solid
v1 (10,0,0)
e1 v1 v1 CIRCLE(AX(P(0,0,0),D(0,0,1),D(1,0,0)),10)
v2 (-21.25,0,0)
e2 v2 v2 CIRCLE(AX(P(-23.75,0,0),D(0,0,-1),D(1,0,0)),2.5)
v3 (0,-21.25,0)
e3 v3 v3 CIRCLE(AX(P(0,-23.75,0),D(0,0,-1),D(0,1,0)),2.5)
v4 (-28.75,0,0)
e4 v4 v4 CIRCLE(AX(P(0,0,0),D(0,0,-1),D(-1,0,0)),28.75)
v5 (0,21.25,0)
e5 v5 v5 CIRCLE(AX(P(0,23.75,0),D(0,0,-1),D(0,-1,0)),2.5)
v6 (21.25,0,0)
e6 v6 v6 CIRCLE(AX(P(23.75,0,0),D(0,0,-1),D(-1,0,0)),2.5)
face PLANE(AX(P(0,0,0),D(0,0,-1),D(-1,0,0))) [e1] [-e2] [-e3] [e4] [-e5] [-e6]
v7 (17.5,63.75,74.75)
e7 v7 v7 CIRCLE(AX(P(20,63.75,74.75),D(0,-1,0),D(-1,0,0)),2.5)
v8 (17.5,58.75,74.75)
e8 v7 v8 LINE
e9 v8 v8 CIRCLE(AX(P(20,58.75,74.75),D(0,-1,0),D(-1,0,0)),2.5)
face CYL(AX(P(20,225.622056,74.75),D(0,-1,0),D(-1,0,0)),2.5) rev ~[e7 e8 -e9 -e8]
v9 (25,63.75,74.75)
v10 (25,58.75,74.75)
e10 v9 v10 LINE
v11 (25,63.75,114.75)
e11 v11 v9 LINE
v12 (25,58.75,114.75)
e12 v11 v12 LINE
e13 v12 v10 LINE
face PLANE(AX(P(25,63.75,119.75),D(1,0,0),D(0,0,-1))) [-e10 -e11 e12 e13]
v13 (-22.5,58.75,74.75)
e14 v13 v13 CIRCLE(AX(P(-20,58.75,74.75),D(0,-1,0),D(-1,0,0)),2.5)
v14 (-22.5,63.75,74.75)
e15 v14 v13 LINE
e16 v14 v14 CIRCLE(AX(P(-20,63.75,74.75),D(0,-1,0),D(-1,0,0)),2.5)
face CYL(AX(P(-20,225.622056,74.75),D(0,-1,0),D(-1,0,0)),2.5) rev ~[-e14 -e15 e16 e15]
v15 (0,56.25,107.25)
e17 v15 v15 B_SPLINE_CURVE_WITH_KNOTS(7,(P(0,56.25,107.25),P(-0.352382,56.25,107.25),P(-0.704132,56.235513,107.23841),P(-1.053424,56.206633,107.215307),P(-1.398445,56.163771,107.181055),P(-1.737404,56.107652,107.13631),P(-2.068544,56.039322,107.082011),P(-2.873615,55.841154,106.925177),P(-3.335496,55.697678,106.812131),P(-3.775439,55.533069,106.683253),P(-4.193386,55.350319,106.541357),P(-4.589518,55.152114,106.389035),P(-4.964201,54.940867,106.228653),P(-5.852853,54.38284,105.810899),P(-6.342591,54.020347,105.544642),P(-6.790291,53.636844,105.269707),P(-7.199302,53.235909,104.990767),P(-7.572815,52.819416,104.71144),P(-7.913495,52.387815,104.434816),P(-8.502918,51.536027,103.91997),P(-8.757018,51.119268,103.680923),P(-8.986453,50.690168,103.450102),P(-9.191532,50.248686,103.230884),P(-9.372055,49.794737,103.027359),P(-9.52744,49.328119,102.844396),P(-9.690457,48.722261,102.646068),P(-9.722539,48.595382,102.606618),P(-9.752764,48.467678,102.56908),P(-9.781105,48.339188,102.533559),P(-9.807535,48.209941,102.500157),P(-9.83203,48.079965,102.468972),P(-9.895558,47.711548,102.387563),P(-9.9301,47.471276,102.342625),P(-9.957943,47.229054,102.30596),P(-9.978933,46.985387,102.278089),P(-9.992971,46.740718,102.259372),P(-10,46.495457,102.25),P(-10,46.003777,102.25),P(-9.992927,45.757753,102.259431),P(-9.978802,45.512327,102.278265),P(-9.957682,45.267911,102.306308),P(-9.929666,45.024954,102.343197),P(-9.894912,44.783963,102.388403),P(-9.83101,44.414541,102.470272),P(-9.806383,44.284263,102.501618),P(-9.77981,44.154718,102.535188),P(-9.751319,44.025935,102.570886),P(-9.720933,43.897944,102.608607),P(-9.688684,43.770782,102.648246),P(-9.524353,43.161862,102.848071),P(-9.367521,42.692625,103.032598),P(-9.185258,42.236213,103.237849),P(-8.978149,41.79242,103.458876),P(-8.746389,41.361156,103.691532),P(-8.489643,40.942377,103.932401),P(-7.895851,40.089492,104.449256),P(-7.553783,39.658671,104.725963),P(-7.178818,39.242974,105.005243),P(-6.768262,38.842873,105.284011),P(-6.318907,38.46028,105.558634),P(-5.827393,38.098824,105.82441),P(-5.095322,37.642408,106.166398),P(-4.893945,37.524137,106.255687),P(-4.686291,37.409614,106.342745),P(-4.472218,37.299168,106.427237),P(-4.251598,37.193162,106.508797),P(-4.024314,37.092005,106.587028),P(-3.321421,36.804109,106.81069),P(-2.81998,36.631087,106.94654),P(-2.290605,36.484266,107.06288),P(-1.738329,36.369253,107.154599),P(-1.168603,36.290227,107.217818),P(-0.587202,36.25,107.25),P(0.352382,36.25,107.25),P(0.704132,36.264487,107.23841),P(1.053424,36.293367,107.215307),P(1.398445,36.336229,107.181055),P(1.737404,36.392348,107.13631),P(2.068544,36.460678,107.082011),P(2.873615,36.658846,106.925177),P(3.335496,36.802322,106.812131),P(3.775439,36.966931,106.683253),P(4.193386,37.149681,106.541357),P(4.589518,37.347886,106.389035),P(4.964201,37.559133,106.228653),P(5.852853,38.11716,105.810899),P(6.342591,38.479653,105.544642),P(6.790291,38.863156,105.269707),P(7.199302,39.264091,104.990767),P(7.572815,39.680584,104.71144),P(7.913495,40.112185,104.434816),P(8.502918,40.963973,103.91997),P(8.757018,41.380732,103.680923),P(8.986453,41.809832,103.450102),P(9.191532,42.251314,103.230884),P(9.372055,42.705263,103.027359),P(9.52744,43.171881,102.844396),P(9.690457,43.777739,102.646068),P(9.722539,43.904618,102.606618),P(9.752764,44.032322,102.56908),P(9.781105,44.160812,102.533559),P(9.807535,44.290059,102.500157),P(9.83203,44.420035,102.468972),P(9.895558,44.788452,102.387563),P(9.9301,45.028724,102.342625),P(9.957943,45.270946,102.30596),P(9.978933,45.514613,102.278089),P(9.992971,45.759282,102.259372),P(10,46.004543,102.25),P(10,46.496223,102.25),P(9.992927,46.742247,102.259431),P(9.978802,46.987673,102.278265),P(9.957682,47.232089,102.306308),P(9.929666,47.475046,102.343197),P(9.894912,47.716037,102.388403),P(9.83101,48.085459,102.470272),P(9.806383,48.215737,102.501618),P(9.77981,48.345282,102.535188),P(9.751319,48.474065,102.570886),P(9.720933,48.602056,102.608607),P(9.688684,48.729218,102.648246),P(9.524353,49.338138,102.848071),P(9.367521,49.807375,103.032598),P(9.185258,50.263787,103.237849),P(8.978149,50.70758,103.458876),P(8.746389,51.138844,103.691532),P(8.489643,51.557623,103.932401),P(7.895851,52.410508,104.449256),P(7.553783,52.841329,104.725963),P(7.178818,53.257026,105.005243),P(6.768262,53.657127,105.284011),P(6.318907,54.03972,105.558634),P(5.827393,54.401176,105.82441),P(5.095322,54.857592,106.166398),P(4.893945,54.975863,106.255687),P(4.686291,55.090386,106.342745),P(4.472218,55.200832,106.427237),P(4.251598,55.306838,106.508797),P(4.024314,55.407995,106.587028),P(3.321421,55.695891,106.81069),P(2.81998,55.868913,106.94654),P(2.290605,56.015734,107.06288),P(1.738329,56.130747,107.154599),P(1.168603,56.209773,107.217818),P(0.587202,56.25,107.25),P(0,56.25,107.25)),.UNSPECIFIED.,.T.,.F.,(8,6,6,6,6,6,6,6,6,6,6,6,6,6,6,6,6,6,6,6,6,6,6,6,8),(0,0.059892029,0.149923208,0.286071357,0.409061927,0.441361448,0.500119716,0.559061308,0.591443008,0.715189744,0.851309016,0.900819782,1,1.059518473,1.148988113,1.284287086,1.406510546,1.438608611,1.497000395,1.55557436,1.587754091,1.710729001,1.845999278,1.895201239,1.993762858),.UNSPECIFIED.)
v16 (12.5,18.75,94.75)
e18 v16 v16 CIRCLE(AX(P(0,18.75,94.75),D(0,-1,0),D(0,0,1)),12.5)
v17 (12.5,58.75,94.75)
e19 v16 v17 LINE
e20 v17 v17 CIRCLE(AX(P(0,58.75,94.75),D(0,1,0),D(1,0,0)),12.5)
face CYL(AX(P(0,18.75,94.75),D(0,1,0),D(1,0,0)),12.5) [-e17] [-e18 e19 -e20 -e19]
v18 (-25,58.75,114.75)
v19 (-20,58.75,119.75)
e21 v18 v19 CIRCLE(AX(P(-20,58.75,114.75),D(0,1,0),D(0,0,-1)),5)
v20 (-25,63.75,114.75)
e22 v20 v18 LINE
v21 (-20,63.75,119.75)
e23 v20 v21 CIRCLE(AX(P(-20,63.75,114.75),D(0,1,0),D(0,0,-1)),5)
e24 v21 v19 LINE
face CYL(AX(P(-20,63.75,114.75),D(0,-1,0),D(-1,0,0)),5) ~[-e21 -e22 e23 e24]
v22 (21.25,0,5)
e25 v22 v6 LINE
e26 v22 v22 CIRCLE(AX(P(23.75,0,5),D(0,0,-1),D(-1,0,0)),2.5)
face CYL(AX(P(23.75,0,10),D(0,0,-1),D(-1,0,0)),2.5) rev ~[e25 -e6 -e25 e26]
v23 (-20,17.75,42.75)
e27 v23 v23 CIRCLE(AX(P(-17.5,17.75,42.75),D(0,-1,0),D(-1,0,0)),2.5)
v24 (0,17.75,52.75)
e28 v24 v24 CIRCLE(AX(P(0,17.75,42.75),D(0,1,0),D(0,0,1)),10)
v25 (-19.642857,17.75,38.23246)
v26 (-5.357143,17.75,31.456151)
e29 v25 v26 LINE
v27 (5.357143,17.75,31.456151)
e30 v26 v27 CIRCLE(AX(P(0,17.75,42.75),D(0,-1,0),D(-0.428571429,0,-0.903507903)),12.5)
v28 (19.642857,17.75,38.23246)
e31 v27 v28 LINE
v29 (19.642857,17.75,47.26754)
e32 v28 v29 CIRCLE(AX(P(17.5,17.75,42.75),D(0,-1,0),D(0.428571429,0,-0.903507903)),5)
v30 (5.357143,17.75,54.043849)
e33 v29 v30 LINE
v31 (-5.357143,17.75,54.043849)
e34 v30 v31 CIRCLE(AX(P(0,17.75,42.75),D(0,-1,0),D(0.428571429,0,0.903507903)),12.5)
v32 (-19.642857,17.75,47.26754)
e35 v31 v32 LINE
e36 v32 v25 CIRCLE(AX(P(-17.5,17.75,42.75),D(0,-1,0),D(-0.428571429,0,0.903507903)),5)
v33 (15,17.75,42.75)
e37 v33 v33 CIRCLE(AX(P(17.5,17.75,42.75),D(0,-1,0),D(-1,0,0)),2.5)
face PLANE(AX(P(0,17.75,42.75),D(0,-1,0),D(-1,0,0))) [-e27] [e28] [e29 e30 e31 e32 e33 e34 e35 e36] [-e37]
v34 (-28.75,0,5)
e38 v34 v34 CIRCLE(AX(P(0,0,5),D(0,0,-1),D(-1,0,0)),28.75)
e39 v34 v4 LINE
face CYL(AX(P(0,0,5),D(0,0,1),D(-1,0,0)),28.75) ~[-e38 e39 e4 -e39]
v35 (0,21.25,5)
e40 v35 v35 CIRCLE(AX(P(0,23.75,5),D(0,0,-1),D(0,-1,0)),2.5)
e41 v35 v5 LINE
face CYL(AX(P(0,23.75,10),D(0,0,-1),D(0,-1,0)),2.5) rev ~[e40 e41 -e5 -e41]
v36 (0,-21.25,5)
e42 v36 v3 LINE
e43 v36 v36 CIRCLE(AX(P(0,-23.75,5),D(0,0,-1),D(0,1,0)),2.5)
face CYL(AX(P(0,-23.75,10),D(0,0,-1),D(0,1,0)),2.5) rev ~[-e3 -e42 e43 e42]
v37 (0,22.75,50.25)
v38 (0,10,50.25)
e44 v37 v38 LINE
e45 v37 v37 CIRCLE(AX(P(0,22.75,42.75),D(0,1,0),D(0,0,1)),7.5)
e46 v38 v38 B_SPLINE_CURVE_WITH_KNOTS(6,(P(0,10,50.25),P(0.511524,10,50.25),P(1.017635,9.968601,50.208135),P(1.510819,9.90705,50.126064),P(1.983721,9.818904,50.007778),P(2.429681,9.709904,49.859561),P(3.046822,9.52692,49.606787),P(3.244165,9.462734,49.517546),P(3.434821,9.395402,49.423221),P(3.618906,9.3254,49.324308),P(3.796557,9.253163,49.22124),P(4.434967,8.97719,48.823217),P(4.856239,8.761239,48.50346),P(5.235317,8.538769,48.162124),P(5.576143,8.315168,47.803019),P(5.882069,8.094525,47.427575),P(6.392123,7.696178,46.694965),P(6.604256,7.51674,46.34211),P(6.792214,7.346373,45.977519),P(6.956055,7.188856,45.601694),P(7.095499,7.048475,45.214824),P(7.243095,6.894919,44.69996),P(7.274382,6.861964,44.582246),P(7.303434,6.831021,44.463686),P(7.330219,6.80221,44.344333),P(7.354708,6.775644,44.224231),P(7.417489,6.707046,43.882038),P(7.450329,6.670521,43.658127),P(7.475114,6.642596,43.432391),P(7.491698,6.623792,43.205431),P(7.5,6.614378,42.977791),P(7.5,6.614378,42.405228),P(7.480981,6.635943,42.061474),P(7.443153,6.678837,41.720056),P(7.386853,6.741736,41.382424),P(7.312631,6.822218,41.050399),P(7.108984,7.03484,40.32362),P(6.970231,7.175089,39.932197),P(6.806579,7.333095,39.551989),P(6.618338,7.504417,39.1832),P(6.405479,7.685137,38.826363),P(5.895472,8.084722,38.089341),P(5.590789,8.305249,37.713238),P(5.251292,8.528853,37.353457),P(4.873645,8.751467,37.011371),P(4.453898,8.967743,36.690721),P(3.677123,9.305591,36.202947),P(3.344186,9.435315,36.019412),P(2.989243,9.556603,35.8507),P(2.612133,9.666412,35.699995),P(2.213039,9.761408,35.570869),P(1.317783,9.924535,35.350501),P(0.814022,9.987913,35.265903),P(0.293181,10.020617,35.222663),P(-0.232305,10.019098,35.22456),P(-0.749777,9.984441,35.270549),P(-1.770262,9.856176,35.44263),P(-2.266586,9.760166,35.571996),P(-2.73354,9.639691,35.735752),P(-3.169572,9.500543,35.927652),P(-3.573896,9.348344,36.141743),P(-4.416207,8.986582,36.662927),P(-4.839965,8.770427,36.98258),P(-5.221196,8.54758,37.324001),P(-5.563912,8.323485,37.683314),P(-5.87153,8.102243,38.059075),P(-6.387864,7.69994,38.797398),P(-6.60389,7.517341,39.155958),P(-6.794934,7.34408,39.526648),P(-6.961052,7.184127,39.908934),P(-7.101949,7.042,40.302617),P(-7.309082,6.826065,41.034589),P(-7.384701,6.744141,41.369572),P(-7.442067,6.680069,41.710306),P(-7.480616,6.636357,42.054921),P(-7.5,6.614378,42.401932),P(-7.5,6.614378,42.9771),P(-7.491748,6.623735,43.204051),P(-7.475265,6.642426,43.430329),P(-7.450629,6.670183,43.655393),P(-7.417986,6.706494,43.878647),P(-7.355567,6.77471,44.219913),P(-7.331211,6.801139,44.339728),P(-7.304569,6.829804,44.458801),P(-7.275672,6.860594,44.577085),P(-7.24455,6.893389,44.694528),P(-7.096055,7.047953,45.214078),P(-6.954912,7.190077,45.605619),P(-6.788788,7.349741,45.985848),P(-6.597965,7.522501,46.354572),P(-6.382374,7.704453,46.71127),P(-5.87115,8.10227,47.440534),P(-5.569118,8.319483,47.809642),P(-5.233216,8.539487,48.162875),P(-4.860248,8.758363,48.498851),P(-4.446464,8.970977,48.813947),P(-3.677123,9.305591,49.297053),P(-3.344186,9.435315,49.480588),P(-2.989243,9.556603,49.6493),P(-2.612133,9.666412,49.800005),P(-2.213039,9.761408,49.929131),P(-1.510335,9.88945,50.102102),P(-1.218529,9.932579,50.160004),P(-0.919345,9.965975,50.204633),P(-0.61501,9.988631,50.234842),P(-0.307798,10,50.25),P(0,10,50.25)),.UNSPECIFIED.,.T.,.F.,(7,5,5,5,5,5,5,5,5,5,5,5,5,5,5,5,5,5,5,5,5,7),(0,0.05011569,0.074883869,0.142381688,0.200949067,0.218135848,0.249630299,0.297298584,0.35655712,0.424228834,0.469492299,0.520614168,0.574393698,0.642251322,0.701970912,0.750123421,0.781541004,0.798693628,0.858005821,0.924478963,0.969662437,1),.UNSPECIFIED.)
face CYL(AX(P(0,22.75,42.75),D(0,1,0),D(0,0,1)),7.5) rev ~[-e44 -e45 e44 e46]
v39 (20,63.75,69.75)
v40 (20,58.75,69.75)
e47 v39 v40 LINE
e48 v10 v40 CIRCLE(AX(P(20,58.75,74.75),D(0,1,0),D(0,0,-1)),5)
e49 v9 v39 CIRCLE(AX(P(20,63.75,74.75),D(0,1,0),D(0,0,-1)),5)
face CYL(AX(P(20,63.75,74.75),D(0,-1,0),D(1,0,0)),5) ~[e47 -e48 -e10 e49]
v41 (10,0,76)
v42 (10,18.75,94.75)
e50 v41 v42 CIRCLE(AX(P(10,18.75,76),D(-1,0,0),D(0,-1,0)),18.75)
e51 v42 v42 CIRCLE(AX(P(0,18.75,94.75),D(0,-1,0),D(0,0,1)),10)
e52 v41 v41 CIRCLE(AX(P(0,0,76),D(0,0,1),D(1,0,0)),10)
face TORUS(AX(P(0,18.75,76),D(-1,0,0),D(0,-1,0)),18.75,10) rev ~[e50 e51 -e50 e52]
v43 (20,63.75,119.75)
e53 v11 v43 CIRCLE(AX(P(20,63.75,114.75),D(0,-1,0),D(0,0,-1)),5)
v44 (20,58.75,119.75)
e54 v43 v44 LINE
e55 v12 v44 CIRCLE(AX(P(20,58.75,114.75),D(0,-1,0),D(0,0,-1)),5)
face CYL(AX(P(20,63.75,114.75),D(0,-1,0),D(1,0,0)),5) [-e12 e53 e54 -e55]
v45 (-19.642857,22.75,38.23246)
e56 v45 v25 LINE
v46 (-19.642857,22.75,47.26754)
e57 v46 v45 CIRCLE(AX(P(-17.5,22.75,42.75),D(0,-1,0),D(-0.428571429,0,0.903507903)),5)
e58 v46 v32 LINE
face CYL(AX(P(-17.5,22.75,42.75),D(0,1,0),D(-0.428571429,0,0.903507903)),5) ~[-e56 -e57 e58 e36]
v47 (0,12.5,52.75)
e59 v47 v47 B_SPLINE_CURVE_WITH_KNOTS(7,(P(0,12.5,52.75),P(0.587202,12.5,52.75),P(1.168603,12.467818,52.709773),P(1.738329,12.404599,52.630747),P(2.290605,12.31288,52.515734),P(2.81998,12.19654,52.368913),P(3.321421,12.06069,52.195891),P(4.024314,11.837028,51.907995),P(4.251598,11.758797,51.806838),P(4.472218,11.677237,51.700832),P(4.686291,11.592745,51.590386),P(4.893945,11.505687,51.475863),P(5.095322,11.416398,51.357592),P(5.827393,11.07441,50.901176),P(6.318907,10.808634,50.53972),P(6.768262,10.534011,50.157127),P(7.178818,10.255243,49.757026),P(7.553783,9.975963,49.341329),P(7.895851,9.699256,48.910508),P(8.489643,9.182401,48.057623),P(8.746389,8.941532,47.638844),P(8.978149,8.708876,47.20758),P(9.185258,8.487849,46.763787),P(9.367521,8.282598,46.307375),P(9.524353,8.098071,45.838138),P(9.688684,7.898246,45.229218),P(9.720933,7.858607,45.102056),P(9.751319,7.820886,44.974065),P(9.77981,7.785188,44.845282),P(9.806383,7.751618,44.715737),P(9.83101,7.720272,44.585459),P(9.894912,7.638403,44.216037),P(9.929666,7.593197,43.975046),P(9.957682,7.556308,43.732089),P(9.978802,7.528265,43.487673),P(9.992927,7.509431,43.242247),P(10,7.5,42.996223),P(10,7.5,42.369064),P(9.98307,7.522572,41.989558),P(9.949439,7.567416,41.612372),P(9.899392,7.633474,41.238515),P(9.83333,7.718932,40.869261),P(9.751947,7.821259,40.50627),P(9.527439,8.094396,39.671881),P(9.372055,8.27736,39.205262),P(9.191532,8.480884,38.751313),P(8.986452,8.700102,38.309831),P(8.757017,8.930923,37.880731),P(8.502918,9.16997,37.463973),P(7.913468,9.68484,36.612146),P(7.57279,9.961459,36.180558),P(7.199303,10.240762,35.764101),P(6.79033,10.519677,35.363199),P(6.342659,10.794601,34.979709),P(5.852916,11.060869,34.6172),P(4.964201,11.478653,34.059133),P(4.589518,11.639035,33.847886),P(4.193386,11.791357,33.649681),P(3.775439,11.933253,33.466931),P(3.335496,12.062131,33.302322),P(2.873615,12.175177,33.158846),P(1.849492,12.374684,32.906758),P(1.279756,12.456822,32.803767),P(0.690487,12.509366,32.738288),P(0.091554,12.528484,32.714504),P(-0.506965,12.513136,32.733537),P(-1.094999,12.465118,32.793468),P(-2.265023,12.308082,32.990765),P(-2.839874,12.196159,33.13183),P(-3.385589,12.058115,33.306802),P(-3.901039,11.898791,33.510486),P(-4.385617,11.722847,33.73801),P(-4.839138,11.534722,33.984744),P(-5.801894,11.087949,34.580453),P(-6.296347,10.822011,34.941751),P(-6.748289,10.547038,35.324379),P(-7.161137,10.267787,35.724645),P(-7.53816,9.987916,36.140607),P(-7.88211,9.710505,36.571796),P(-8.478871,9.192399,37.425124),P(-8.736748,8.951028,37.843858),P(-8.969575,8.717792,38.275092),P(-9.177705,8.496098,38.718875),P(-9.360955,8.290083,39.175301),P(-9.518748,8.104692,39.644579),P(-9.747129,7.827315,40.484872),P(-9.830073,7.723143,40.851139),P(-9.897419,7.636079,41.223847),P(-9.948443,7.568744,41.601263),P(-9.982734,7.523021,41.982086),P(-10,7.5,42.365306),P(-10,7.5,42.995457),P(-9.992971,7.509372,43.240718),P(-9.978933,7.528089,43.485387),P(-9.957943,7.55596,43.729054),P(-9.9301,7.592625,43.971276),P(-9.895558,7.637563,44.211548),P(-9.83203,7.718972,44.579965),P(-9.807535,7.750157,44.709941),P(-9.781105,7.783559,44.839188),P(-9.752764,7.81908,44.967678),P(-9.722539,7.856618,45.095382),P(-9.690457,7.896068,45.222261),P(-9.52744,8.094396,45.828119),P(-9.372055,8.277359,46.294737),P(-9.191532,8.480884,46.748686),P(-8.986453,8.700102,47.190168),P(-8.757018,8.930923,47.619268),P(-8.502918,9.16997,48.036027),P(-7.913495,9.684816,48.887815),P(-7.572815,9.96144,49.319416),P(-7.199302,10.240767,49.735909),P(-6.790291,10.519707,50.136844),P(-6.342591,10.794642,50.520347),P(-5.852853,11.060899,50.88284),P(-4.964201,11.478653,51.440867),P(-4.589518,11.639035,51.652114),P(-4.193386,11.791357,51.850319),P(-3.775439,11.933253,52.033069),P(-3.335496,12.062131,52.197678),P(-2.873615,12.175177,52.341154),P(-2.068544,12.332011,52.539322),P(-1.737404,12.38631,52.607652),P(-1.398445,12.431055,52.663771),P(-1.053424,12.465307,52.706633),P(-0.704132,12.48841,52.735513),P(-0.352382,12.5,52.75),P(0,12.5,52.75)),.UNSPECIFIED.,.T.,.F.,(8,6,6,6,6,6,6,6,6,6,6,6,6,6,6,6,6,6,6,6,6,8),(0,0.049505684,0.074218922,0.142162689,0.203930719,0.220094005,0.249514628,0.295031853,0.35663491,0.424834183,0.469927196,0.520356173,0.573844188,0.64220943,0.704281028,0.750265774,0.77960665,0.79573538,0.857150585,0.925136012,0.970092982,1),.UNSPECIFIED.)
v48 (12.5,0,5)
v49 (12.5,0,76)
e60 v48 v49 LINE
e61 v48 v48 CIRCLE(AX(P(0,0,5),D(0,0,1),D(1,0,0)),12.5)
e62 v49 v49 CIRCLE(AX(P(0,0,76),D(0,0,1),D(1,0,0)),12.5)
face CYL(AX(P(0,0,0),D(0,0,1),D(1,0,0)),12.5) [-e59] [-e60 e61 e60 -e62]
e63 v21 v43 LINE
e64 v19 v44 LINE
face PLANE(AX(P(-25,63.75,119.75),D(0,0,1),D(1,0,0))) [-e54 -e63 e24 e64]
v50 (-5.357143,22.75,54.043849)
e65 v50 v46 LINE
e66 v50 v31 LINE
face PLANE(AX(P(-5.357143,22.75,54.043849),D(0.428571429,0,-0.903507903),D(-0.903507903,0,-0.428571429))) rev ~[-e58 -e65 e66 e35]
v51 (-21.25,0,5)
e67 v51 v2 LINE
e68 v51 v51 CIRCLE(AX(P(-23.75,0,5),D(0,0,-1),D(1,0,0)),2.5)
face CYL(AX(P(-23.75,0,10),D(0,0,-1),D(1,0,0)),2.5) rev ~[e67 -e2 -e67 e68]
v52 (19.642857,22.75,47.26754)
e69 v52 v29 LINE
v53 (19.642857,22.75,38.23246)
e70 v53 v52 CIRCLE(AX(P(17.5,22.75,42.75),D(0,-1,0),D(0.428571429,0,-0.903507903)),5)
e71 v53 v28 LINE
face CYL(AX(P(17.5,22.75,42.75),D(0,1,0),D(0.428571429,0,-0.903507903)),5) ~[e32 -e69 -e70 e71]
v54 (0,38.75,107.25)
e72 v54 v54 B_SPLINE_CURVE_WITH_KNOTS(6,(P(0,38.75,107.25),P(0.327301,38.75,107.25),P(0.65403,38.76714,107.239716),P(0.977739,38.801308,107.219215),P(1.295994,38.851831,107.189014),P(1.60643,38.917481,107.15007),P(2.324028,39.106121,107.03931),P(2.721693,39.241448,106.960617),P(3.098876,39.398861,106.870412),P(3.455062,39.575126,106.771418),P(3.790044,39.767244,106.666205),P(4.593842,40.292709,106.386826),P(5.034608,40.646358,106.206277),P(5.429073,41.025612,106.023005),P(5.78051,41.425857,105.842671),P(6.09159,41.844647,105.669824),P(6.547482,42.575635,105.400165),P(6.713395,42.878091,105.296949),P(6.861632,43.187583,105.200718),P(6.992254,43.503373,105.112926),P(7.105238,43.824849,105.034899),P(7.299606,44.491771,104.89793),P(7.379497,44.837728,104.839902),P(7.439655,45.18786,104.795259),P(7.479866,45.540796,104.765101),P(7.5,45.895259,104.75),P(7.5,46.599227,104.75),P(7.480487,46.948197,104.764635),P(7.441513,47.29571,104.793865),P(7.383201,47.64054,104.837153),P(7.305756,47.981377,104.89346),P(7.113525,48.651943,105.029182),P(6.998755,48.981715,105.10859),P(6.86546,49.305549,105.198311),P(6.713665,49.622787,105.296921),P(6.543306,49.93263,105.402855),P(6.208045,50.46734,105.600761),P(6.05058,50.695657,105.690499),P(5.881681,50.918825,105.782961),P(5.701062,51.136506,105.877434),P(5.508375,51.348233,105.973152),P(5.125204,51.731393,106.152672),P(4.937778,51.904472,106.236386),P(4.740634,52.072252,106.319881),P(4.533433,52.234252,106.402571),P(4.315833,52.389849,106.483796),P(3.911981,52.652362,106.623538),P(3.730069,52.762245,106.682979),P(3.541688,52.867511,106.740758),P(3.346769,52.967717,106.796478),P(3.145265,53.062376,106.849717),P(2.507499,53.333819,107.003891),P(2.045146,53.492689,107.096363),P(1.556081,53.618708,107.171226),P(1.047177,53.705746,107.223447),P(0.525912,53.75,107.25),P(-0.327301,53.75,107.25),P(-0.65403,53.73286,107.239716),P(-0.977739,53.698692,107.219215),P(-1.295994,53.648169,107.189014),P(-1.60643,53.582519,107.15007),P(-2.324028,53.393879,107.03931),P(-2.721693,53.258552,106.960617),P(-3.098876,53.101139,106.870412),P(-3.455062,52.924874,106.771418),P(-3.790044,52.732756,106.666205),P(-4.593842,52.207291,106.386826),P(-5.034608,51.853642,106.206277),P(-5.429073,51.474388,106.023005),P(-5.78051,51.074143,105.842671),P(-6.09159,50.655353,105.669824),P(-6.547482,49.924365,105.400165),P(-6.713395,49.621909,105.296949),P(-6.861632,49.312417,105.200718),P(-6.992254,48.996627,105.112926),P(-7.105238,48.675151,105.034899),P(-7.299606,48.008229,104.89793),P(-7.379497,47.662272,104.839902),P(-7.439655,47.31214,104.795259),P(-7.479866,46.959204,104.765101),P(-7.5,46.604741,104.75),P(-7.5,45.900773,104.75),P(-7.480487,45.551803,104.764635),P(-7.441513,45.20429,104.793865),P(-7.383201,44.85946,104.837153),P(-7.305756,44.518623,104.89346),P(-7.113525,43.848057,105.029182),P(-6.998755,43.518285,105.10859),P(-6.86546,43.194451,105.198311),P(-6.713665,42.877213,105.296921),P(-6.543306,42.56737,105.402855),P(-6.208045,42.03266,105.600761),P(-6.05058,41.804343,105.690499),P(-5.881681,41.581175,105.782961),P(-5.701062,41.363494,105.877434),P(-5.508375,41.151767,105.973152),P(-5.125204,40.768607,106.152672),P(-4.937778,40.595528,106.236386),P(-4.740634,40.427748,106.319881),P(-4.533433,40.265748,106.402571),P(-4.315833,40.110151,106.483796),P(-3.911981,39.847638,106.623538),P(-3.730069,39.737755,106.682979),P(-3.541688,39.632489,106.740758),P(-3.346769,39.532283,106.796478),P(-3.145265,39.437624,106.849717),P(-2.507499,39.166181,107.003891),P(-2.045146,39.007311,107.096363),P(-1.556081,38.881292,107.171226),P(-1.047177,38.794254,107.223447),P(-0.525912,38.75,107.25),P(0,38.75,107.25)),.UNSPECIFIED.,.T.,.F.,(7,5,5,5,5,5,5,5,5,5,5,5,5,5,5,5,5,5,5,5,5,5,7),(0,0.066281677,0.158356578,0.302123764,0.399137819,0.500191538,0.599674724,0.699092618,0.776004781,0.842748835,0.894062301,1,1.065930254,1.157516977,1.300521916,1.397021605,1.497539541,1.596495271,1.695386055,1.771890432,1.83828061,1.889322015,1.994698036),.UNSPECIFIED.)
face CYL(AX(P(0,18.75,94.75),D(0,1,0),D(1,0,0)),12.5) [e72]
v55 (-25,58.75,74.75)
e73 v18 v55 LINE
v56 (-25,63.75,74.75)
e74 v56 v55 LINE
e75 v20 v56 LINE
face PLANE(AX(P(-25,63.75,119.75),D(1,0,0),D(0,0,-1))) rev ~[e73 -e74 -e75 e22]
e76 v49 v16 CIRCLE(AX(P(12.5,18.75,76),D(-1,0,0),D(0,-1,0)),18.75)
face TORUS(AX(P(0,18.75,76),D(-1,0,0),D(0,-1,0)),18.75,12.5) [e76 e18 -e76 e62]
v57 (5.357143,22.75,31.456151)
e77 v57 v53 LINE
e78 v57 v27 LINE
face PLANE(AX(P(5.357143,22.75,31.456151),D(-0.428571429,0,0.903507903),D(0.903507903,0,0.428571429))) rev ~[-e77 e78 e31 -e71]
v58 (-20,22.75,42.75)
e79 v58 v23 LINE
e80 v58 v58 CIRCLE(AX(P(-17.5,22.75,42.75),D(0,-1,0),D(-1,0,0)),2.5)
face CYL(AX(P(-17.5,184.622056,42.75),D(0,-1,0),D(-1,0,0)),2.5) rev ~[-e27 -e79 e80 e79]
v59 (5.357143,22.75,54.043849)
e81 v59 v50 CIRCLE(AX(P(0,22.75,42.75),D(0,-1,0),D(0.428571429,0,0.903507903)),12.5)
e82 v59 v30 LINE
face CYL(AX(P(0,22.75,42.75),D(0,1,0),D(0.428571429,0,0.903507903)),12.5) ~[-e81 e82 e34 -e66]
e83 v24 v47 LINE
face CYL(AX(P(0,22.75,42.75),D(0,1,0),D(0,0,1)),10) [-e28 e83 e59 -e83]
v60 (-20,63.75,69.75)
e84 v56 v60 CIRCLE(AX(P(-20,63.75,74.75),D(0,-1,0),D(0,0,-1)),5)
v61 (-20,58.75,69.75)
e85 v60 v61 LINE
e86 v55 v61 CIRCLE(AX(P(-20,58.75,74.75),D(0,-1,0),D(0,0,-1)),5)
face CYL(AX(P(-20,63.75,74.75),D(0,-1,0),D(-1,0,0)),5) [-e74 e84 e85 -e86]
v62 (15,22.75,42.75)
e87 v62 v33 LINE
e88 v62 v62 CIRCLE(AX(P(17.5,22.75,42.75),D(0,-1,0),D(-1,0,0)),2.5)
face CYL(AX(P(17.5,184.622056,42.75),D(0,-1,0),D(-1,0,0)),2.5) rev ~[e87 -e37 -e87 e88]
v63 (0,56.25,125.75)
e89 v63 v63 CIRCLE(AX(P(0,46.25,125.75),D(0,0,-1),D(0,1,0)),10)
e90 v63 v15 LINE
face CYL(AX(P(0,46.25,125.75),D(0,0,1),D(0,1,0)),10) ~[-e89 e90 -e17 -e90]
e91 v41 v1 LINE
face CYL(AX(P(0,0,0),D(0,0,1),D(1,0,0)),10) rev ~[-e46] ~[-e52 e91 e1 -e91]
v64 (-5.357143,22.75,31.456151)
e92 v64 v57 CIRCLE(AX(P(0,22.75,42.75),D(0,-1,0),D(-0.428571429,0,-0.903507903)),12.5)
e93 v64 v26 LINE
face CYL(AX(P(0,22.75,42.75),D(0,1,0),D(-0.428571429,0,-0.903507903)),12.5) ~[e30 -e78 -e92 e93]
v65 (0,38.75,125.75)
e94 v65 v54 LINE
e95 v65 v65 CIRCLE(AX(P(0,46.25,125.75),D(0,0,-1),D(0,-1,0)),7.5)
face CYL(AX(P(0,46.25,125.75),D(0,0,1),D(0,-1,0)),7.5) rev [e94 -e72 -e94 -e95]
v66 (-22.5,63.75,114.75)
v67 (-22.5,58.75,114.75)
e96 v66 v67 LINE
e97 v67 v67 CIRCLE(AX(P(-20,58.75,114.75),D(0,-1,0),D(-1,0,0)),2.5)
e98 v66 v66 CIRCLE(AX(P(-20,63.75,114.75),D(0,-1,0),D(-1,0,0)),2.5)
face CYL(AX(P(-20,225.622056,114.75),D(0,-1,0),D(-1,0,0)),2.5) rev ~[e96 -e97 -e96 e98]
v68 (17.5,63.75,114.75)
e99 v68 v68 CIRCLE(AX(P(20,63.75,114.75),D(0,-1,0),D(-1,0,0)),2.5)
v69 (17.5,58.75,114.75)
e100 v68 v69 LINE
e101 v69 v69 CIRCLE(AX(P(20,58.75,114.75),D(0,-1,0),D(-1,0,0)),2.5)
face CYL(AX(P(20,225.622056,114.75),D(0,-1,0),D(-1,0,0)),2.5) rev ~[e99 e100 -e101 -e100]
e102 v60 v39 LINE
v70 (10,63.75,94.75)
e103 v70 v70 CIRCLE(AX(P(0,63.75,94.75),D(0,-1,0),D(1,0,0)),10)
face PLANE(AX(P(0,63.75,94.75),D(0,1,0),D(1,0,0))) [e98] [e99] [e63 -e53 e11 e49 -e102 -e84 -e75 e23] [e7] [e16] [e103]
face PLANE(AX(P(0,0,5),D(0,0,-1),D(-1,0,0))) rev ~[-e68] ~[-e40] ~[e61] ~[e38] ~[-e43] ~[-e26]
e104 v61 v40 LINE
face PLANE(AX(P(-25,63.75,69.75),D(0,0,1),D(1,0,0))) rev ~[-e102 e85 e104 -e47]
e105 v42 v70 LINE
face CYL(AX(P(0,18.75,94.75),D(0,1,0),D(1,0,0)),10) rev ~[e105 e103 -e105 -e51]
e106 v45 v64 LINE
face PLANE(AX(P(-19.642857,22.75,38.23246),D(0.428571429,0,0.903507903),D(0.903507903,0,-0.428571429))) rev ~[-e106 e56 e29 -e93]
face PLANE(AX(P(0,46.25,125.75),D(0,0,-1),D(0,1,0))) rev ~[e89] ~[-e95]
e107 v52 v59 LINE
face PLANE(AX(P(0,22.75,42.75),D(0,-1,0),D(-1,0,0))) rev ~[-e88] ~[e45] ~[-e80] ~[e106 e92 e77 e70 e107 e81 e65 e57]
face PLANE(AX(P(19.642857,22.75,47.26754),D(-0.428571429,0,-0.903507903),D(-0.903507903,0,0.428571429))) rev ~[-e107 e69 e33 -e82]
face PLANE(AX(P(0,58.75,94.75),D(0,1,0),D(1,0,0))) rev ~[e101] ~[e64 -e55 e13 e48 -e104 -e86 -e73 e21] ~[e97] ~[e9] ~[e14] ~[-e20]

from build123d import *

# Parameters (mm, degrees)
SKETCH1_R                = 12.5
SKETCH1_R_2              = 10
BOSS_EXTRUDE1_START      = -5
SKETCH3_R                = 28.75
SKETCH3_R_2              = 10
BOSS_EXTRUDE1_DEPTH      = 5
HOLE1_D                  = 5
HOLE1_DEPTH              = 5
CIRPATTERN1_COUNT        = 4
SKETCH8_W                = 50
SKETCH8_H                = 50
SKETCH8_R                = 10
BOSS_EXTRUDE3_DEPTH      = 5
FILLET1_R                = 5
HOLE2_D                  = 5
SKETCH11_R               = 7.5
BOSS_EXTRUDE4_DEPTH      = 5
BOSS_EXTRUDE5_REACH      = 135.487
BOSS_EXTRUDE5_END_RADIUS = 12.5
SKETCH12_R               = 10
CUT_EXTRUDE1_REACH       = 135.487
CUT_EXTRUDE1_END_RADIUS  = 10
SKETCH15_R               = 7.5
HOLE4_D                  = 5
BOSS_EXTRUDE6_REACH      = 145.888
BOSS_EXTRUDE6_END_RADIUS = 12.5
SKETCH19_R               = 10
SKETCH19_R_2             = 7.5


with BuildPart() as part:
    # Sweep1: sweep along a path in Sketch2
    with BuildLine(Plane(origin=(0, 0, 0), x_dir=(0, 0, -1), z_dir=(1, 0, 0))) as sweep1_path:
        Line((0, 0), (-76, 0))
        ThreePointArc((-76, 0), (-89.258252147, 5.491747853), (-94.75, 18.75))
        Line((-94.75, 18.75), (-94.75, 63.75))
    # Sketch1 → Sweep1 (sweep)
    with BuildSketch(Plane.XY):
        Circle(SKETCH1_R)
        Circle(SKETCH1_R_2, mode=Mode.SUBTRACT)
    sweep(path=sweep1_path.line)

    # Sketch3 → Boss-Extrude1 (add)
    with BuildSketch(Plane(origin=(0, 0, 0), x_dir=(-1, 0, 0), z_dir=(0, 0, -1)).offset(BOSS_EXTRUDE1_START)):
        Circle(SKETCH3_R)
        with Locations(Location((0, 0, 0), (0, 0, 180))):
            Circle(SKETCH3_R_2, mode=Mode.SUBTRACT)
    extrude(amount=BOSS_EXTRUDE1_DEPTH)

    # Hole1
    with Locations(Plane.XY.offset(5)):
        with Locations((23.75, 0)):
            hole1 = Hole(HOLE1_D / 2, depth=HOLE1_DEPTH)

    # CirPattern1: Hole1 ×4 about axis
    cirpattern1_axis = Axis((0, 0, 0), (0, 0, 1))
    for i in range(1, CIRPATTERN1_COUNT):
        add(hole1.rotate(cirpattern1_axis, i * 360 / CIRPATTERN1_COUNT), mode=Mode.SUBTRACT)

    # Sketch8 → Boss-Extrude3 (add)
    with BuildSketch(Plane(origin=(0, 63.75, 0), x_dir=(1, 0, 0), z_dir=(0, 1, 0))):
        with Locations((0, -94.75)):
            Rectangle(SKETCH8_W, SKETCH8_H)
        with Locations(Location((0, -94.75, 0), (0, 0, 270))):
            Circle(SKETCH8_R, mode=Mode.SUBTRACT)
    extrude(amount=-BOSS_EXTRUDE3_DEPTH)

    # Fillet1
    fillet1_edges = [part.edges().sort_by_distance(p)[0] for p in [
        (25, 61.25, 69.75),
        (25, 61.25, 119.75),
        (-25, 61.25, 119.75),
        (-25, 61.25, 69.75),
    ]]
    fillet(fillet1_edges, radius=FILLET1_R)

    # Hole2 (through all)
    with Locations(Plane(origin=(0, 63.75, 0), x_dir=(1, 0, 0), z_dir=(0, 1, 0))):
        with Locations((20, -74.75), (-20, -74.75), (20, -114.75), (-20, -114.75)):
            Hole(HOLE2_D / 2)



with BuildPart() as body_2:
    # Sketch11 → Boss-Extrude4 (new body)
    with BuildSketch(Plane(origin=(0, 22.75, 0), x_dir=(1, 0, 0), z_dir=(0, 1, 0))):
        with BuildLine():
            Line((-19.642857143, -38.232460485), (-5.357142857, -31.456151214))
            ThreePointArc((-5.357142857, -31.456151214), (0, -30.25), (5.357142857, -31.456151214))
            Line((5.357142857, -31.456151214), (19.642857143, -38.232460485))
            ThreePointArc((19.642857143, -38.232460485), (22.5, -42.75), (19.642857143, -47.267539515))
            Line((19.642857143, -47.267539515), (5.357142857, -54.043848786))
            ThreePointArc((5.357142857, -54.043848786), (0, -55.25), (-5.357142857, -54.043848786))
            Line((-5.357142857, -54.043848786), (-19.642857143, -47.267539515))
            ThreePointArc((-19.642857143, -47.267539515), (-22.5, -42.75), (-19.642857143, -38.232460485))
        make_face()
        with Locations(Location((0, -42.75, 0), (0, 0, 270))):
            Circle(SKETCH11_R, mode=Mode.SUBTRACT)
    extrude(amount=-BOSS_EXTRUDE4_DEPTH)


with BuildPart() as part_1:
    add(part.part)

    add(body_2.part)  # Boss-Extrude5 merges body 2
    # Boss-Extrude5: up to this cylinder (the profile starts outside it)
    boss_extrude5_end = Plane(origin=(0, 0, 42.75), z_dir=(0, 0, 1)) * Cylinder(BOSS_EXTRUDE5_END_RADIUS, 296.974, mode=Mode.PRIVATE)
    # Sketch12 → Boss-Extrude5 (add, up to the surface)
    with BuildSketch(Plane(origin=(0, 22.75, 0), x_dir=(1, 0, 0), z_dir=(0, 1, 0)), mode=Mode.PRIVATE) as boss_extrude5_sk1:
        with Locations(Location((0, -42.75, 0), (0, 0, 270))):
            Circle(SKETCH12_R)
    boss_extrude5_tool1 = extrude(boss_extrude5_sk1.sketch, amount=-BOSS_EXTRUDE5_REACH, mode=Mode.PRIVATE) - boss_extrude5_end
    add(boss_extrude5_tool1.solids().sort_by_distance((0, 22.75, 42.75))[0])

    # Cut-Extrude1: up to this cylinder (the profile starts outside it)
    cut_extrude1_end = Plane(origin=(0, 0, 42.75), z_dir=(0, 0, 1)) * Cylinder(CUT_EXTRUDE1_END_RADIUS, 291.974, mode=Mode.PRIVATE)
    # Sketch15 → Cut-Extrude1 (cut, up to the surface)
    with BuildSketch(Plane(origin=(0, 22.75, 0), x_dir=(1, 0, 0), z_dir=(0, 1, 0)), mode=Mode.PRIVATE) as cut_extrude1_sk1:
        with Locations(Location((0, -42.75, 0), (0, 0, 270))):
            Circle(SKETCH15_R)
    cut_extrude1_tool1 = extrude(cut_extrude1_sk1.sketch, amount=-CUT_EXTRUDE1_REACH, mode=Mode.PRIVATE) - cut_extrude1_end
    add(cut_extrude1_tool1.solids().sort_by_distance((0, 22.75, 42.75))[0], mode=Mode.SUBTRACT)

    # Hole4 (through all)
    with Locations(Plane(origin=(0, 22.75, 0), x_dir=(1, 0, 0), z_dir=(0, 1, 0))):
        with Locations((17.5, -42.75), (-17.5, -42.75)):
            Hole(HOLE4_D / 2)

    # Boss-Extrude6: up to this cylinder (the profile starts outside it)
    boss_extrude6_end = Plane(origin=(0, 36.532843, 94.75), z_dir=(0, 1, 0)) * Cylinder(BOSS_EXTRUDE6_END_RADIUS, 317.776, mode=Mode.PRIVATE)
    # Sketch19 → Boss-Extrude6 (add, up to the surface)
    with BuildSketch(Plane(origin=(0, 0, 125.75), x_dir=(-1, 0, 0), z_dir=(0, 0, -1)), mode=Mode.PRIVATE) as boss_extrude6_sk1:
        with Locations(Location((0, 46.25, 0), (0, 0, 90))):
            Circle(SKETCH19_R)
        with Locations(Location((0, 46.25, 0), (0, 0, 270))):
            Circle(SKETCH19_R_2, mode=Mode.SUBTRACT)
    boss_extrude6_tool1 = extrude(boss_extrude6_sk1.sketch, amount=BOSS_EXTRUDE6_REACH, mode=Mode.PRIVATE) - boss_extrude6_end
    add(boss_extrude6_tool1.solids().sort_by_distance((0, 36.532843, 125.75))[0])


solid = part_1.part
